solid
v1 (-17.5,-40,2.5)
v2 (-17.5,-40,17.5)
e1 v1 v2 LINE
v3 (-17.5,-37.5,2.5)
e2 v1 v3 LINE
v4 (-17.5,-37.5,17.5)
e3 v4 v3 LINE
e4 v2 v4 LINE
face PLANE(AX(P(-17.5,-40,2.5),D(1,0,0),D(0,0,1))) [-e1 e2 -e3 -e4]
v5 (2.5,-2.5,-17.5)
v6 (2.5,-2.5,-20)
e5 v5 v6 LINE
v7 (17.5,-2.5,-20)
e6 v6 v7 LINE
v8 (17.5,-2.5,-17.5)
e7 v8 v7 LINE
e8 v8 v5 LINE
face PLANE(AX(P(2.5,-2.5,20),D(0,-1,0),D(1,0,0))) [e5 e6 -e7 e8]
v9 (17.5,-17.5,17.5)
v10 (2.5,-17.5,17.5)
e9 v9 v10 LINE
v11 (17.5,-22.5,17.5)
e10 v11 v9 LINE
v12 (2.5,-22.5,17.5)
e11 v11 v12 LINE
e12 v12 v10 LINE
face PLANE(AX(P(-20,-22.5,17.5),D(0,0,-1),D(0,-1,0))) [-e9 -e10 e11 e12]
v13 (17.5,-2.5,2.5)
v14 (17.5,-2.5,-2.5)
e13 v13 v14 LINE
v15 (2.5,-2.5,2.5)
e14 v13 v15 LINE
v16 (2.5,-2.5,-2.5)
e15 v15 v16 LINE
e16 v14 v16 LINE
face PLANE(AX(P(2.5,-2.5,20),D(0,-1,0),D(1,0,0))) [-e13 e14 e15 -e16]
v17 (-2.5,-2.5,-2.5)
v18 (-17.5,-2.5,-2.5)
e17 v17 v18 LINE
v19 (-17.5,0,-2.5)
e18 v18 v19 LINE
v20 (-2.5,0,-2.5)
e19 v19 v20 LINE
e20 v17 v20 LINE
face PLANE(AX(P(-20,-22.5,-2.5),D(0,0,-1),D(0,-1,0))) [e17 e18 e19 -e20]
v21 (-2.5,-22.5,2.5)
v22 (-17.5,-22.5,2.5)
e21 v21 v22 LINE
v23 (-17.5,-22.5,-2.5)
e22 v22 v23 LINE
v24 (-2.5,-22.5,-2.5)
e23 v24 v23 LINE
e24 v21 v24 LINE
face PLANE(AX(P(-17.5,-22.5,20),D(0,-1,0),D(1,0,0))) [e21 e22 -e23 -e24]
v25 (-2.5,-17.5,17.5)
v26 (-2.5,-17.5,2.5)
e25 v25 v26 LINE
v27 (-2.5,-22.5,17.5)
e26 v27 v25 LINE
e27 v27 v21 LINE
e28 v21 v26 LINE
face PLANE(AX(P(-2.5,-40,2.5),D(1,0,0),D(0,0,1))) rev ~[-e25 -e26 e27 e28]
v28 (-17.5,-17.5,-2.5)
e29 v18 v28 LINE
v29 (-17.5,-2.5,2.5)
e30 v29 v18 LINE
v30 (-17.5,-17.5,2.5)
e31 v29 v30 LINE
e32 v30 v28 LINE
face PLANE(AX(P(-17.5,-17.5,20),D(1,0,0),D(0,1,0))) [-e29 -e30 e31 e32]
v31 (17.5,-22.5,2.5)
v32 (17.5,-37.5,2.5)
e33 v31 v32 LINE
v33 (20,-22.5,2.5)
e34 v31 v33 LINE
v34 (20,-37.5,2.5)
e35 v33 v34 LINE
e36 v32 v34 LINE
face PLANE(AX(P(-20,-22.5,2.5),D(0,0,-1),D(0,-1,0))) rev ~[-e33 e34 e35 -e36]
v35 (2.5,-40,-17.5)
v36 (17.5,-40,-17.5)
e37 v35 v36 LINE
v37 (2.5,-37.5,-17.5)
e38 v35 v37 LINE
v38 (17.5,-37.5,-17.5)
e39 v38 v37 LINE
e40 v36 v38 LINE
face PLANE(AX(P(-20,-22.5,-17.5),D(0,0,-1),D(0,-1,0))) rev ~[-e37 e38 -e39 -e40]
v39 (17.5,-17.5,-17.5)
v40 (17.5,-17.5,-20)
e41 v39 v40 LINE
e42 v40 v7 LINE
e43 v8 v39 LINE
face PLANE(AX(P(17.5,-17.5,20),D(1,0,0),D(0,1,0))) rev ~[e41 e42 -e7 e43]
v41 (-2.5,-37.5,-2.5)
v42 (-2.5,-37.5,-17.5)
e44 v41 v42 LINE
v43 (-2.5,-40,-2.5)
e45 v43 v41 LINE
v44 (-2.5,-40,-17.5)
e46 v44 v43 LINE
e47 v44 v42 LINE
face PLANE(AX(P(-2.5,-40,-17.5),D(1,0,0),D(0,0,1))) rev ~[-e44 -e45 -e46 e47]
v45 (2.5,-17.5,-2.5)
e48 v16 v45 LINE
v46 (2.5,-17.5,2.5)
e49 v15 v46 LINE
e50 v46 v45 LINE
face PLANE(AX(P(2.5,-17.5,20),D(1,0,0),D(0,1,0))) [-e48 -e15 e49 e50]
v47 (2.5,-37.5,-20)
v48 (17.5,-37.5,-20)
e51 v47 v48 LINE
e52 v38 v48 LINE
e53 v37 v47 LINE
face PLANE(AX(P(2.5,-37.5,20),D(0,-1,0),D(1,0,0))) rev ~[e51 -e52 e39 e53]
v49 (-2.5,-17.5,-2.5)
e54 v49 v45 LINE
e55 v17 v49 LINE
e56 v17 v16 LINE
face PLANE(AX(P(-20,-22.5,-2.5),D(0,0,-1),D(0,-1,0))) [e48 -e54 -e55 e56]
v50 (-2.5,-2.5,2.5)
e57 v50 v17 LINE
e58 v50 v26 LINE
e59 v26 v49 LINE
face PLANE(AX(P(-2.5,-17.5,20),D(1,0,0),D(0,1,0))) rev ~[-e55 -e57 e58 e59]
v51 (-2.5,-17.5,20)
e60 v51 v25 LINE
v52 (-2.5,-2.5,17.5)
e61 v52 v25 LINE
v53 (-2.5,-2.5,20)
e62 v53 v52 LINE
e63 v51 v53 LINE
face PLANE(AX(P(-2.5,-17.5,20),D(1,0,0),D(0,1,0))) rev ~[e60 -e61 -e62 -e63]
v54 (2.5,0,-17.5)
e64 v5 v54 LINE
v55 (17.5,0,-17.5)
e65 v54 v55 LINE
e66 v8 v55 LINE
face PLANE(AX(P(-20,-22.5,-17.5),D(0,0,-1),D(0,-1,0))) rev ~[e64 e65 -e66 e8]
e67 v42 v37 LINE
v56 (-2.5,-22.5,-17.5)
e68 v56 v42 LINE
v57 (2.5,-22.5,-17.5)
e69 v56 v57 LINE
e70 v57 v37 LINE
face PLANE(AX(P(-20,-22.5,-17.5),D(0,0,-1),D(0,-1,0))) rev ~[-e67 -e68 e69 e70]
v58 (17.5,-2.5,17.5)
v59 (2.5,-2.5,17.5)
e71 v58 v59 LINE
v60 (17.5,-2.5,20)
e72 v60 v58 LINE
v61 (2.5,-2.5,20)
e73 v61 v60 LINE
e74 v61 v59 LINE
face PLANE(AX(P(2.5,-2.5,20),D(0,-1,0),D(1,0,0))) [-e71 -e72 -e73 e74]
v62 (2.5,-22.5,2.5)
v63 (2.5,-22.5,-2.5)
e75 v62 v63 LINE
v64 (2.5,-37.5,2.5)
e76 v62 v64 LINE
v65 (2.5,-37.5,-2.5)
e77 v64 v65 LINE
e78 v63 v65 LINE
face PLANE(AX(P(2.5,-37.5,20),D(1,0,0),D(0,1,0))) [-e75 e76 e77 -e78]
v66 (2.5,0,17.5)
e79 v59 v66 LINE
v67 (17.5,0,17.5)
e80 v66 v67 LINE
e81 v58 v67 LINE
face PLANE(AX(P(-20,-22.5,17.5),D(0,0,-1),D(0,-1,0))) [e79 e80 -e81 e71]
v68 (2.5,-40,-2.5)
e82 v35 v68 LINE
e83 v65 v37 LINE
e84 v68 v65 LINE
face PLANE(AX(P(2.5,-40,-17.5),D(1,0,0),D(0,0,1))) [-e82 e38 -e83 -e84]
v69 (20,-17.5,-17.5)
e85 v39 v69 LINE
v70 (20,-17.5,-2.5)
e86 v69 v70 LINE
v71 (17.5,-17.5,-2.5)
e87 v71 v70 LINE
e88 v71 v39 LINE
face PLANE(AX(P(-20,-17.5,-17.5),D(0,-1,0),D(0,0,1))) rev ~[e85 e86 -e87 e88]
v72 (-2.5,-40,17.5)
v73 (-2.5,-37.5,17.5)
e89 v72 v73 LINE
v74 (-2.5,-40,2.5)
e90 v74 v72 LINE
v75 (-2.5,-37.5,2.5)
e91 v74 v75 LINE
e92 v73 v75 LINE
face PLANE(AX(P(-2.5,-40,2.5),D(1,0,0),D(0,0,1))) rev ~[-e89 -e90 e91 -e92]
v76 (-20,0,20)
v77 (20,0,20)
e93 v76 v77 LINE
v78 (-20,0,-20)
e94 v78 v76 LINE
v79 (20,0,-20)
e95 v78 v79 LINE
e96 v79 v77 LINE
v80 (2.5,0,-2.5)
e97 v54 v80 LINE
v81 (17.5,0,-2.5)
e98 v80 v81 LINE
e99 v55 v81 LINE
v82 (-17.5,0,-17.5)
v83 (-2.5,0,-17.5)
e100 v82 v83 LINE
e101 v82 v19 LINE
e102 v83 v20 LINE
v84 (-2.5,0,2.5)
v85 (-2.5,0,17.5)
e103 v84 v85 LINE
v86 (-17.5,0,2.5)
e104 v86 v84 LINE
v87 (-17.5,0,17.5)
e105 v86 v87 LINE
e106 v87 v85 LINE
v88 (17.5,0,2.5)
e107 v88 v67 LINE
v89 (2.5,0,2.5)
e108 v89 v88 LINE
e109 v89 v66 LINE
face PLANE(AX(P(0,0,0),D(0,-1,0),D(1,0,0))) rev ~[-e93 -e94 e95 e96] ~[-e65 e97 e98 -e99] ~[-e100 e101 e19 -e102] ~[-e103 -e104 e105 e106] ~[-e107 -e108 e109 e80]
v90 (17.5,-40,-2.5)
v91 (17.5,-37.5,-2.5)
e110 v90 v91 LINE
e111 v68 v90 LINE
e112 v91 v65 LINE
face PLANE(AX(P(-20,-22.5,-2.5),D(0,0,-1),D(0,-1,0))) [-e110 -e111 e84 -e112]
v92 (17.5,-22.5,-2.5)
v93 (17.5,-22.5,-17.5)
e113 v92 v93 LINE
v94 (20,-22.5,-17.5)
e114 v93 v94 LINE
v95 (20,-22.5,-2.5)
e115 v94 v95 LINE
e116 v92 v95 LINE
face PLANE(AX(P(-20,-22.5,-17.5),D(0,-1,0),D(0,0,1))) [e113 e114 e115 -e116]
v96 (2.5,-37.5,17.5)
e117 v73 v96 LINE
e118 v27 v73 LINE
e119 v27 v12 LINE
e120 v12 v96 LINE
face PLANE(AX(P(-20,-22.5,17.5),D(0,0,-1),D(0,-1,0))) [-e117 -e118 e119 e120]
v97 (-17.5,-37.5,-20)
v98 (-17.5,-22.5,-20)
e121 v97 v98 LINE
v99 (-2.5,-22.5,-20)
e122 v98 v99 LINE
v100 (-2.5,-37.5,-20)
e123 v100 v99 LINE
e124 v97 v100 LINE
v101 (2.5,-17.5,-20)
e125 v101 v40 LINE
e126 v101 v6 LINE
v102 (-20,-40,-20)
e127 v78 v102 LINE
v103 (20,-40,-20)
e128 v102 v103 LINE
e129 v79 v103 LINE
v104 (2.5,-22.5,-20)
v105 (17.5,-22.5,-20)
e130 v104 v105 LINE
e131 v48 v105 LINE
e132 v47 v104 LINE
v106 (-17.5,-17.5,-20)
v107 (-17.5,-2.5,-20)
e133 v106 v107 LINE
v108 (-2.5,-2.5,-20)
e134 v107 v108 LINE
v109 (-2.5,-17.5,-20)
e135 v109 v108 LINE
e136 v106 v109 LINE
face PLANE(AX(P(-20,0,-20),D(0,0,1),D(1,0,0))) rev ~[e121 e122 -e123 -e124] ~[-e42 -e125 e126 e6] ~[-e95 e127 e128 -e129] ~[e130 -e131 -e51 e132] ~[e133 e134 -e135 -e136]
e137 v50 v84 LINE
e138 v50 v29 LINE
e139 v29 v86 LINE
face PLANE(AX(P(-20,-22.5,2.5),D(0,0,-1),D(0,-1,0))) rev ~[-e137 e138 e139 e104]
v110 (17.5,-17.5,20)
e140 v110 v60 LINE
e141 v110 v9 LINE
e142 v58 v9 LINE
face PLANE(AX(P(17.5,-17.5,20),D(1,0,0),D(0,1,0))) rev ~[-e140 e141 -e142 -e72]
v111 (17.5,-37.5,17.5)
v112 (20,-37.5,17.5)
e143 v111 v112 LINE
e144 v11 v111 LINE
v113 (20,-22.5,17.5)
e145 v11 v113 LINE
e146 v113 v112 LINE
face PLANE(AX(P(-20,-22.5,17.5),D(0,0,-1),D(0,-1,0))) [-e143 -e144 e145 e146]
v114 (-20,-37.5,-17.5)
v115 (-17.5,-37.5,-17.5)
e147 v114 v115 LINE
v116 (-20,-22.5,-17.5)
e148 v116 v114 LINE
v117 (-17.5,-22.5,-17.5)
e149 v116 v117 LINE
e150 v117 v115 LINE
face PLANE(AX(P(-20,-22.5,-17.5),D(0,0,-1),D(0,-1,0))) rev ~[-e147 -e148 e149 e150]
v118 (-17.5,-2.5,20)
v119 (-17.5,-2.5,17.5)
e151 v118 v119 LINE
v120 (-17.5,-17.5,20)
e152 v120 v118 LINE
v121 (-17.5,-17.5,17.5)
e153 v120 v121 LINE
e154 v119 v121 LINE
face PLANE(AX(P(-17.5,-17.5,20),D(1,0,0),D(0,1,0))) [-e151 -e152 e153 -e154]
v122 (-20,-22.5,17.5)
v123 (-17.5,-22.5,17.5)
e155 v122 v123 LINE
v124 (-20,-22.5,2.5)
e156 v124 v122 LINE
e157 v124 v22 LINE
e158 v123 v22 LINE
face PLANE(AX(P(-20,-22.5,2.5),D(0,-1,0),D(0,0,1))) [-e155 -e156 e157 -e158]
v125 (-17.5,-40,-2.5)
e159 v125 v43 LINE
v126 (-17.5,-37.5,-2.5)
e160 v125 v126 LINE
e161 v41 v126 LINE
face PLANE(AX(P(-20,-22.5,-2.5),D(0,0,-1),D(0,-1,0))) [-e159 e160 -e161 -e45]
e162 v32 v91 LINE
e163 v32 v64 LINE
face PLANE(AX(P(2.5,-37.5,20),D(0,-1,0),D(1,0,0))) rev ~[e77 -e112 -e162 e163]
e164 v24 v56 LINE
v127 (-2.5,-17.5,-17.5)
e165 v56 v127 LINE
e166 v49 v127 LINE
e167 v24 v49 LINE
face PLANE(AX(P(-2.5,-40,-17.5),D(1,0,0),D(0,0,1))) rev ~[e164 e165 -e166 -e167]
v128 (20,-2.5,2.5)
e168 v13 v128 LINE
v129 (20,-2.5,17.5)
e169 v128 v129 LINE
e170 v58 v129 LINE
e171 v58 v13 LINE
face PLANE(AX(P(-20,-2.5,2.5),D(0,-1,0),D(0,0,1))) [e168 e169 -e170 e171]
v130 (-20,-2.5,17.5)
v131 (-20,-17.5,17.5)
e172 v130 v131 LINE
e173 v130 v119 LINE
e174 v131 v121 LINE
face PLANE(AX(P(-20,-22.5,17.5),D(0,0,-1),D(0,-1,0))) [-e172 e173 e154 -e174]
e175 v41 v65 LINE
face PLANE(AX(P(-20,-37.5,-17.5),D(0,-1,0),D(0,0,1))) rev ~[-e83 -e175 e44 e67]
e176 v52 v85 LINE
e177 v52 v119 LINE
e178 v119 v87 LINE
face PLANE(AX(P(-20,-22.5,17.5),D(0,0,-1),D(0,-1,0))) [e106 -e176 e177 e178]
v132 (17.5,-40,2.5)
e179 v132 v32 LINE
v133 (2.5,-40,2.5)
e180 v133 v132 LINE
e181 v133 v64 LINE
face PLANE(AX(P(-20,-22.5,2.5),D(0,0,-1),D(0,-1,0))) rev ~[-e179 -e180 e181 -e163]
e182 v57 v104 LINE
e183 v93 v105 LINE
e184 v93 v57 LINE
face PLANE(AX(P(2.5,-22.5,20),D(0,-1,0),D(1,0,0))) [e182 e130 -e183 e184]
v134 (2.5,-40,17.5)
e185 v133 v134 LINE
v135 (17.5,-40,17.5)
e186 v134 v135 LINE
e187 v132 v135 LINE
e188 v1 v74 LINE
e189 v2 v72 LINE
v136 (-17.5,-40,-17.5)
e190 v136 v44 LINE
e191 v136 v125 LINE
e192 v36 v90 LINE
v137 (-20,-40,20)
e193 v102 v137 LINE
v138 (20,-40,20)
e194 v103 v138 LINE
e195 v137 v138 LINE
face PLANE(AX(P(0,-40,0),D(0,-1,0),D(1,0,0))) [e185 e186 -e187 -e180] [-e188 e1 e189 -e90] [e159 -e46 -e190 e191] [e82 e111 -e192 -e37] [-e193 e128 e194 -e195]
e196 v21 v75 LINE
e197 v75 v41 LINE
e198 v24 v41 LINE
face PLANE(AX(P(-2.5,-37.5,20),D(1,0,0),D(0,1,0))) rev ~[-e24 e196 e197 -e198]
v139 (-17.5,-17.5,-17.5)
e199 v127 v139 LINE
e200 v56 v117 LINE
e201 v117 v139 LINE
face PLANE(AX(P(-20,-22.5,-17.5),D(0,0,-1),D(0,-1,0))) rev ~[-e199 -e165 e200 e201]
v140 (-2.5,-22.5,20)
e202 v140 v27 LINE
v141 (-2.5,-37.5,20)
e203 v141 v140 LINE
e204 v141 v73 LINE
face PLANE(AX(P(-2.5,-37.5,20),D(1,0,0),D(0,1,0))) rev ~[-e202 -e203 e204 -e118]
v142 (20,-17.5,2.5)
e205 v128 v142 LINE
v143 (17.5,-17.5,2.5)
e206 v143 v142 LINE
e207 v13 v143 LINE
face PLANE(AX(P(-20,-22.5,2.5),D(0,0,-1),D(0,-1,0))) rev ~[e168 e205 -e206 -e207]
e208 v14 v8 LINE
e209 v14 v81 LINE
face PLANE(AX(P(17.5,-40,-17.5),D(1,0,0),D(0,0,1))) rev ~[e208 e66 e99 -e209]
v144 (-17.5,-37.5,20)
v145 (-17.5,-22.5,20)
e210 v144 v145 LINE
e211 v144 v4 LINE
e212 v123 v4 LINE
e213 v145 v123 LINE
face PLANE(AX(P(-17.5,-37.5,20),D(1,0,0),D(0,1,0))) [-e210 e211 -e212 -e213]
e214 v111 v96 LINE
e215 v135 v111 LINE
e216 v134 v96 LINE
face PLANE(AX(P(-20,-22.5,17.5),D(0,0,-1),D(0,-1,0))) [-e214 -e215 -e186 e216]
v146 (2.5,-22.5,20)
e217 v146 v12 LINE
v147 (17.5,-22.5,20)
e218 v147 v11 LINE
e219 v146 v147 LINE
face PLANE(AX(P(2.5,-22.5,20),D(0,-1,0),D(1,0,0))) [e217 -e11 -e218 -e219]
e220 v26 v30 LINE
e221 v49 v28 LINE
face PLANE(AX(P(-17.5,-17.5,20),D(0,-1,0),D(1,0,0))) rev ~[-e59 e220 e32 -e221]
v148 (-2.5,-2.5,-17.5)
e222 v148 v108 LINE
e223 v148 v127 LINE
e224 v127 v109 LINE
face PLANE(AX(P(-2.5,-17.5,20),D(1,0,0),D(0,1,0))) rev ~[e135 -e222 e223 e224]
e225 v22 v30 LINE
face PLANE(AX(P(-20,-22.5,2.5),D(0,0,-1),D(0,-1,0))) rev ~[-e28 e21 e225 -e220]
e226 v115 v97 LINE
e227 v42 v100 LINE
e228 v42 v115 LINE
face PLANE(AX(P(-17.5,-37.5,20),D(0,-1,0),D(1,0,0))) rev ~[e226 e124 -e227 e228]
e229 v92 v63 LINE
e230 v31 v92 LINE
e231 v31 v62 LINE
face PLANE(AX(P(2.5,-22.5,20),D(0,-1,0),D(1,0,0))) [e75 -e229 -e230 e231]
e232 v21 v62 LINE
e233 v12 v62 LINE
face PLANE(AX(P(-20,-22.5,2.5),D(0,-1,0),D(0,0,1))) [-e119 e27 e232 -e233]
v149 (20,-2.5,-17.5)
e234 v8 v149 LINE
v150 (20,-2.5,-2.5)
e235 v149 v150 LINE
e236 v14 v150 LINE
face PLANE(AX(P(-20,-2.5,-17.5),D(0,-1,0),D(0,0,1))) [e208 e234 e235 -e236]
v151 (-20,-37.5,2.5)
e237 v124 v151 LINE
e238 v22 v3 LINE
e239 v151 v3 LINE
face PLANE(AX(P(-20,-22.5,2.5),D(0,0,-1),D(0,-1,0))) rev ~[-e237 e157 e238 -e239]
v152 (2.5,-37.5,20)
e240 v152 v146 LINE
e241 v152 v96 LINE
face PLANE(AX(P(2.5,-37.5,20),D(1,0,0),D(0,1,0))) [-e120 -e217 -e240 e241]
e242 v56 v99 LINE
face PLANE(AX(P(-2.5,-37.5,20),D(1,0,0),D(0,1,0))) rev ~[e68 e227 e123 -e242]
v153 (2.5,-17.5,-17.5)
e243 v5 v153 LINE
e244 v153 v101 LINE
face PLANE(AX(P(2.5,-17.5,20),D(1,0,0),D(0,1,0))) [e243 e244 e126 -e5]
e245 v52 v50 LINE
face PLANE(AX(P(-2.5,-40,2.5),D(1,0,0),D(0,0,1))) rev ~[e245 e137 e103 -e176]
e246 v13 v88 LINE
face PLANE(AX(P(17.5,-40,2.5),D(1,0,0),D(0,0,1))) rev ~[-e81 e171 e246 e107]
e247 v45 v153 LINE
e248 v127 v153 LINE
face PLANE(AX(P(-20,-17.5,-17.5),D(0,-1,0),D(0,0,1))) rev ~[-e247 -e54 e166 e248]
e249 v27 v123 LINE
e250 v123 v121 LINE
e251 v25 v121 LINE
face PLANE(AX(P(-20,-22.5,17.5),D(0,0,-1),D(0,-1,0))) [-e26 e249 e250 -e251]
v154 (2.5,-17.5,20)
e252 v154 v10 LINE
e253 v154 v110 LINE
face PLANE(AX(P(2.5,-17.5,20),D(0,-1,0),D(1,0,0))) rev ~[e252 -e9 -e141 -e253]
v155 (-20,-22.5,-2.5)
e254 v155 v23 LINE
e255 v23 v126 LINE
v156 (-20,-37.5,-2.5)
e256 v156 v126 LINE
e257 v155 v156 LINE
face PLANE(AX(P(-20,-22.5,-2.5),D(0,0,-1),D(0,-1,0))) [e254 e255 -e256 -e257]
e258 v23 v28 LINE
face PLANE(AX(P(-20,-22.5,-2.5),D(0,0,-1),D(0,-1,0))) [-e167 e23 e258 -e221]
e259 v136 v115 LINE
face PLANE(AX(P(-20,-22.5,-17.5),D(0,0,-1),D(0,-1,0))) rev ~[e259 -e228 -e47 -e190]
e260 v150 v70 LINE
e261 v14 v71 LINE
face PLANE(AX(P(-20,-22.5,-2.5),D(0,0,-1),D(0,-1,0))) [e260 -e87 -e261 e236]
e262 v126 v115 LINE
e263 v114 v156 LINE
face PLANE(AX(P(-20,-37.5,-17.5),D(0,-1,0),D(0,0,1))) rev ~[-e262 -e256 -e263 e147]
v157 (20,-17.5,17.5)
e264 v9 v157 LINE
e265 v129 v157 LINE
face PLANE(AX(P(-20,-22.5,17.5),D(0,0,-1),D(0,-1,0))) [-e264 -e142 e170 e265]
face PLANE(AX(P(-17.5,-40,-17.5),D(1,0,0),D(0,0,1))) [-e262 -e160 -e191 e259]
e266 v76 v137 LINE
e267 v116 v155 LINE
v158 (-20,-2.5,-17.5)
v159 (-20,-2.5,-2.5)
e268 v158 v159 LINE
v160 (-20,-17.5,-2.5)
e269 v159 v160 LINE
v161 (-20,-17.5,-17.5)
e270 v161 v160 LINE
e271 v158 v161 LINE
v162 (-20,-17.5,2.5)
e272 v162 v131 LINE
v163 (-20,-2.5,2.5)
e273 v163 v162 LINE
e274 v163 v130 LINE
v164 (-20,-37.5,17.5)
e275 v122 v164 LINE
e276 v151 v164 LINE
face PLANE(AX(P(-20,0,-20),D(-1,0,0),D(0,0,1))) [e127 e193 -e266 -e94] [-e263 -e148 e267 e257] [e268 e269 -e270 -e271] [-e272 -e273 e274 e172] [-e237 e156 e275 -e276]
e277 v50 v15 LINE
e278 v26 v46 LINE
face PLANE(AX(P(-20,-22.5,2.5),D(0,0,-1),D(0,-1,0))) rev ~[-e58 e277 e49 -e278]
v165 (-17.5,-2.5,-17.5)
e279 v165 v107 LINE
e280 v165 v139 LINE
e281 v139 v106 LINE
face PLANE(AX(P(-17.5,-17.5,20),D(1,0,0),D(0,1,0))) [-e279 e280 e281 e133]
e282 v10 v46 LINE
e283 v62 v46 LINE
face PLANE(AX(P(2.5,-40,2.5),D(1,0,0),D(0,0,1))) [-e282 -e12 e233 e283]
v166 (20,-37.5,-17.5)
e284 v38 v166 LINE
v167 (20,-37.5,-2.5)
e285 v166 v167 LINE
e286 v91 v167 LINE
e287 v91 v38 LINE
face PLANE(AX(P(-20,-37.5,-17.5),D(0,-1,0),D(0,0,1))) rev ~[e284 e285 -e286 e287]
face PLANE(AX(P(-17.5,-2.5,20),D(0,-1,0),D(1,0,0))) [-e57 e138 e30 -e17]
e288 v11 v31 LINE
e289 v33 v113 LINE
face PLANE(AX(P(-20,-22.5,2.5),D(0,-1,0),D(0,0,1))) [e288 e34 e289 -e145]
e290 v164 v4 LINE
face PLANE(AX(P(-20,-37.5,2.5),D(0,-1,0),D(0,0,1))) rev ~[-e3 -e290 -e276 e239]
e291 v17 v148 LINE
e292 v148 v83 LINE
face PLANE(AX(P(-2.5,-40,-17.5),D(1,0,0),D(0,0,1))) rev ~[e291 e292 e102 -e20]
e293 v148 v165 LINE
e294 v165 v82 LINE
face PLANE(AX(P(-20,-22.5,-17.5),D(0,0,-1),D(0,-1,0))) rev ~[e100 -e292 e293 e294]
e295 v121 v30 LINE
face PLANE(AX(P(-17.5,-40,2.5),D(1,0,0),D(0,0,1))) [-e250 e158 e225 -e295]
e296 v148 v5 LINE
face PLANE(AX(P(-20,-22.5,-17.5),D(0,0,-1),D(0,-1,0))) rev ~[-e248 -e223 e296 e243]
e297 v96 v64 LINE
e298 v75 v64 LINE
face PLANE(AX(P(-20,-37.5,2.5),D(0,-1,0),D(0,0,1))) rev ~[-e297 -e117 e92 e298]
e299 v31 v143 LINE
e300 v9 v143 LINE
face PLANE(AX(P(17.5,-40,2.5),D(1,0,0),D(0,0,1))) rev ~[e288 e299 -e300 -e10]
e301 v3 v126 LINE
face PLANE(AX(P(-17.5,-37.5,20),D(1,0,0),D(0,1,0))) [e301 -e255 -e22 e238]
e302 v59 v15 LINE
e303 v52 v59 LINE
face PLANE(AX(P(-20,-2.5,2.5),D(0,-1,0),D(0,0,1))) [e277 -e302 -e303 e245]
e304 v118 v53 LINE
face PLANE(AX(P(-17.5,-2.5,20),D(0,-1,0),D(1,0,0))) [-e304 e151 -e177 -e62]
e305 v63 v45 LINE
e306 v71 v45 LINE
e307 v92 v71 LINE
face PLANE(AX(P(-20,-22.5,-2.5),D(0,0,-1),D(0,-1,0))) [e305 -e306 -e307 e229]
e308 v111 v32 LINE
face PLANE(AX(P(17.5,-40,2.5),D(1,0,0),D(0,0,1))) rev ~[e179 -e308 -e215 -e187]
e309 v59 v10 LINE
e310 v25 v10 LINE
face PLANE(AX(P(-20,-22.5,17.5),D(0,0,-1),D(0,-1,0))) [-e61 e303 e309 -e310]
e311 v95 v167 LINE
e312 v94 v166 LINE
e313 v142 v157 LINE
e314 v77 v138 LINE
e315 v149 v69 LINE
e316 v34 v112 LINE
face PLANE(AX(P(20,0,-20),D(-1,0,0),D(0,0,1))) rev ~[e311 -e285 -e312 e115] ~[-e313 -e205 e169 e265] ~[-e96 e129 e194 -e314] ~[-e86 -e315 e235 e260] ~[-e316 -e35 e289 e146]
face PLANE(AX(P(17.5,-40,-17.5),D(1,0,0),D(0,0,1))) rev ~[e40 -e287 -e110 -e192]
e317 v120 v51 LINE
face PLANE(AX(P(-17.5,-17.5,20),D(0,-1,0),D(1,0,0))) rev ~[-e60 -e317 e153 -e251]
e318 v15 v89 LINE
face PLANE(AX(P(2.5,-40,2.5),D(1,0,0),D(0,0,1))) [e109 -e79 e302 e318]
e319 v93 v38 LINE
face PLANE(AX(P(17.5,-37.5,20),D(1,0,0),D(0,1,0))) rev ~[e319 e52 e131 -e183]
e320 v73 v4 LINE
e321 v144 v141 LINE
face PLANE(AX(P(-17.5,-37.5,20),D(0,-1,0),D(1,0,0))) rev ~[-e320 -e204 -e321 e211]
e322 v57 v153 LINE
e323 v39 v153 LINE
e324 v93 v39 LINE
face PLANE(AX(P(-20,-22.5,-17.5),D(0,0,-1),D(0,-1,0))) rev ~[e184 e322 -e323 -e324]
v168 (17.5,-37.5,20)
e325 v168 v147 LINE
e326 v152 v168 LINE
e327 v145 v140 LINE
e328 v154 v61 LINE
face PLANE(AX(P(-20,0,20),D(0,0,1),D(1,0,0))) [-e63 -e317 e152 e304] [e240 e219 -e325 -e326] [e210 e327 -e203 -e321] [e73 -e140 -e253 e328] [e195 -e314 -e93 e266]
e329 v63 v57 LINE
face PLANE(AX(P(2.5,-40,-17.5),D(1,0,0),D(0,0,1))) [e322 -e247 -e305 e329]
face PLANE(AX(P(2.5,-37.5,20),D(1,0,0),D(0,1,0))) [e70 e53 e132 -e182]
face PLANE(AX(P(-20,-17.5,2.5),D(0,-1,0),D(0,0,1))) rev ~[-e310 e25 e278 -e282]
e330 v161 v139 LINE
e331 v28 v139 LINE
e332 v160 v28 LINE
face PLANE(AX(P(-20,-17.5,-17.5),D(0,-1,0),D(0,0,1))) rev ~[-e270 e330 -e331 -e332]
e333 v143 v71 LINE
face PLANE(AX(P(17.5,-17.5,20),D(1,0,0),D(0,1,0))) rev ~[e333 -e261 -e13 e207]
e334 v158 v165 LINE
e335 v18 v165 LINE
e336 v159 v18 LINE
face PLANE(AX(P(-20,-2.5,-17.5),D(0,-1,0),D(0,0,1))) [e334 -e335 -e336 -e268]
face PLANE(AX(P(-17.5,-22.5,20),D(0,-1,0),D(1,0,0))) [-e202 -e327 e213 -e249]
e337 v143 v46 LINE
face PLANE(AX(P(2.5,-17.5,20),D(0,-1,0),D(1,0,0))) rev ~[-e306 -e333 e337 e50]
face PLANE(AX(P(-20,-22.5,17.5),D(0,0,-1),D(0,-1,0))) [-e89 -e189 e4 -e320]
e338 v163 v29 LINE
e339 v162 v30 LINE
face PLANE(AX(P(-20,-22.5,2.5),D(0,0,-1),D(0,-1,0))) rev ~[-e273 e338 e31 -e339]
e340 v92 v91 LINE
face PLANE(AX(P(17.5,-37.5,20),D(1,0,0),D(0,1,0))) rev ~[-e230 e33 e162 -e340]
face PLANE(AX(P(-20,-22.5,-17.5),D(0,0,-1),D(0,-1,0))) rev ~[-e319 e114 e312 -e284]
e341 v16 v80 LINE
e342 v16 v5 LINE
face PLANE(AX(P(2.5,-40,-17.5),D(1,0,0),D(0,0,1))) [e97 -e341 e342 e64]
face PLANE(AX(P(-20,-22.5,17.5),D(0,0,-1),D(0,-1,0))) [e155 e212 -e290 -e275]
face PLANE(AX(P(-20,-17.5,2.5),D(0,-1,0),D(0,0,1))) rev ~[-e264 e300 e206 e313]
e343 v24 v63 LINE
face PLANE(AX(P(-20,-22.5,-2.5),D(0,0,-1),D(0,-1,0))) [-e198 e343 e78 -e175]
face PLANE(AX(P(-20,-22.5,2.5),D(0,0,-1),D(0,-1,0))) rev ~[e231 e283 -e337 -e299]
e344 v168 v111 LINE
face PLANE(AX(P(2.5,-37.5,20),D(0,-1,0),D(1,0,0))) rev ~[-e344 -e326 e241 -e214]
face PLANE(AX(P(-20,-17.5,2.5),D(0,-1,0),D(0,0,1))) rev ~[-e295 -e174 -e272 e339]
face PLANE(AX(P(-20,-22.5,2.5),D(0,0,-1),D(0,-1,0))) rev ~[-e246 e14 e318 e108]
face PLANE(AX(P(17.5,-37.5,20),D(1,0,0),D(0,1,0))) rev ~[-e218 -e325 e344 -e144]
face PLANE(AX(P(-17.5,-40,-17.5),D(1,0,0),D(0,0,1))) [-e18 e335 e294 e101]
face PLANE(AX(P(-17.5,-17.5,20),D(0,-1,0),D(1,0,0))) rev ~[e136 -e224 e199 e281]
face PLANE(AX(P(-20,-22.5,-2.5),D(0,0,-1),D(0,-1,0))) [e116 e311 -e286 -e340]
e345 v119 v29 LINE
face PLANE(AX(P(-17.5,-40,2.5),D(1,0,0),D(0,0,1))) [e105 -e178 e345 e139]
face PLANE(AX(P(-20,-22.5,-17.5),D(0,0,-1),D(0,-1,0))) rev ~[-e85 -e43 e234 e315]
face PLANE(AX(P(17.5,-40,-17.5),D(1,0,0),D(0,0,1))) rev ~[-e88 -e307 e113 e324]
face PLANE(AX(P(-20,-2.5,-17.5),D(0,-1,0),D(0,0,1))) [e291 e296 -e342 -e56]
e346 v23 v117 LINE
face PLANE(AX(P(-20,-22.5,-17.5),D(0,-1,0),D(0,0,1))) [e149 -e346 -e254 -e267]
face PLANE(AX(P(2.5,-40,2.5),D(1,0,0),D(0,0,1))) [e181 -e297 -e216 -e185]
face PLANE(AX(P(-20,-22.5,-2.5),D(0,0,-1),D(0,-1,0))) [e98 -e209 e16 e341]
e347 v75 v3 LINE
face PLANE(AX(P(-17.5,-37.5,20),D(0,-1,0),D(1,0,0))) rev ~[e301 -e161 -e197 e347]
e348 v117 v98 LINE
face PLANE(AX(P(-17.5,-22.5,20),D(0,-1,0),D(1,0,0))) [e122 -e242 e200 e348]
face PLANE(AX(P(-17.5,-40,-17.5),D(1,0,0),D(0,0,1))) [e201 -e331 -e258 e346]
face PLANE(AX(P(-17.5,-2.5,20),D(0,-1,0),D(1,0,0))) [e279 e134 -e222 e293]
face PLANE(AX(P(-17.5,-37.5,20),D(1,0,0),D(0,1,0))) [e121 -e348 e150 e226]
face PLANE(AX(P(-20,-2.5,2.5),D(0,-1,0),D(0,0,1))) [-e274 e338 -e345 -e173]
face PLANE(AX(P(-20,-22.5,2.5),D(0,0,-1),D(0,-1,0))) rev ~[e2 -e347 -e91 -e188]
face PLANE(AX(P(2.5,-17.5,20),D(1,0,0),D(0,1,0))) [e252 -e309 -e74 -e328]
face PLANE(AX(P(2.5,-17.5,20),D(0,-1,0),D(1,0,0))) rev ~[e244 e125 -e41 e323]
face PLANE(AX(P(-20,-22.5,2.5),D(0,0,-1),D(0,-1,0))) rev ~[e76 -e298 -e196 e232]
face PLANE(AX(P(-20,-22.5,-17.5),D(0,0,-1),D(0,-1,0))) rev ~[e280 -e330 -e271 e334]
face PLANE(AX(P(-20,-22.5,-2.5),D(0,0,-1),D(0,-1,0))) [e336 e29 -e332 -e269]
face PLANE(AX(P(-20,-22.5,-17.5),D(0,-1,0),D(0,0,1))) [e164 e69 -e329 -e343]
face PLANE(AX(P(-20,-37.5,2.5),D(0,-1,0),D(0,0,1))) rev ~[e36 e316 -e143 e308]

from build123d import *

# Parameters (mm, degrees)
F0_W     = 40
F0_H     = 40
F1_DEPTH = 40
F2_W     = 15
F2_H     = 15
F3_DEPTH = 40.001
F4_W     = 15
F4_H     = 15
F5_DEPTH = 40.001
F6_W     = 15
F6_H     = 15
F7_DEPTH = 40.001


with BuildPart() as f1:
    # F0 (on Front) → F1 (new body)
    with BuildSketch(Plane.XZ):
        Rectangle(F0_W, F0_H)
    extrude(amount=F1_DEPTH)

    # F2 (on face) → F3 (cut, through all)
    with BuildSketch(Plane.XZ.offset(40)):
        with Locations((-10, 10)):
            Rectangle(F2_W, F2_H)
        with Locations((10, 10)):
            Rectangle(F2_W, F2_H)
        with Locations((-10, -10)):
            Rectangle(F2_W, F2_H)
        with Locations((10, -10)):
            Rectangle(F2_W, F2_H)
    extrude(amount=-F3_DEPTH, mode=Mode.SUBTRACT)

    # F4 (on face) → F5 (cut, through all)
    with BuildSketch(Plane(origin=(-20, 0, 0), x_dir=(0, -1, 0), z_dir=(-1, 0, 0))):
        with Locations((10, 10)):
            Rectangle(F4_W, F4_H)
        with Locations((30, 10)):
            Rectangle(F4_W, F4_H)
        with Locations((10, -10)):
            Rectangle(F4_W, F4_H)
        with Locations((30, -10)):
            Rectangle(F4_W, F4_H)
    extrude(amount=-F5_DEPTH, mode=Mode.SUBTRACT)

    # F6 (on face) → F7 (cut, through all)
    with BuildSketch(Plane.XY.offset(20)):
        with Locations((-10, -10)):
            Rectangle(F6_W, F6_H)
        with Locations((10, -10)):
            Rectangle(F6_W, F6_H)
        with Locations((-10, -30)):
            Rectangle(F6_W, F6_H)
        with Locations((10, -30)):
            Rectangle(F6_W, F6_H)
    extrude(amount=-F7_DEPTH, mode=Mode.SUBTRACT)


solid = f1.part
